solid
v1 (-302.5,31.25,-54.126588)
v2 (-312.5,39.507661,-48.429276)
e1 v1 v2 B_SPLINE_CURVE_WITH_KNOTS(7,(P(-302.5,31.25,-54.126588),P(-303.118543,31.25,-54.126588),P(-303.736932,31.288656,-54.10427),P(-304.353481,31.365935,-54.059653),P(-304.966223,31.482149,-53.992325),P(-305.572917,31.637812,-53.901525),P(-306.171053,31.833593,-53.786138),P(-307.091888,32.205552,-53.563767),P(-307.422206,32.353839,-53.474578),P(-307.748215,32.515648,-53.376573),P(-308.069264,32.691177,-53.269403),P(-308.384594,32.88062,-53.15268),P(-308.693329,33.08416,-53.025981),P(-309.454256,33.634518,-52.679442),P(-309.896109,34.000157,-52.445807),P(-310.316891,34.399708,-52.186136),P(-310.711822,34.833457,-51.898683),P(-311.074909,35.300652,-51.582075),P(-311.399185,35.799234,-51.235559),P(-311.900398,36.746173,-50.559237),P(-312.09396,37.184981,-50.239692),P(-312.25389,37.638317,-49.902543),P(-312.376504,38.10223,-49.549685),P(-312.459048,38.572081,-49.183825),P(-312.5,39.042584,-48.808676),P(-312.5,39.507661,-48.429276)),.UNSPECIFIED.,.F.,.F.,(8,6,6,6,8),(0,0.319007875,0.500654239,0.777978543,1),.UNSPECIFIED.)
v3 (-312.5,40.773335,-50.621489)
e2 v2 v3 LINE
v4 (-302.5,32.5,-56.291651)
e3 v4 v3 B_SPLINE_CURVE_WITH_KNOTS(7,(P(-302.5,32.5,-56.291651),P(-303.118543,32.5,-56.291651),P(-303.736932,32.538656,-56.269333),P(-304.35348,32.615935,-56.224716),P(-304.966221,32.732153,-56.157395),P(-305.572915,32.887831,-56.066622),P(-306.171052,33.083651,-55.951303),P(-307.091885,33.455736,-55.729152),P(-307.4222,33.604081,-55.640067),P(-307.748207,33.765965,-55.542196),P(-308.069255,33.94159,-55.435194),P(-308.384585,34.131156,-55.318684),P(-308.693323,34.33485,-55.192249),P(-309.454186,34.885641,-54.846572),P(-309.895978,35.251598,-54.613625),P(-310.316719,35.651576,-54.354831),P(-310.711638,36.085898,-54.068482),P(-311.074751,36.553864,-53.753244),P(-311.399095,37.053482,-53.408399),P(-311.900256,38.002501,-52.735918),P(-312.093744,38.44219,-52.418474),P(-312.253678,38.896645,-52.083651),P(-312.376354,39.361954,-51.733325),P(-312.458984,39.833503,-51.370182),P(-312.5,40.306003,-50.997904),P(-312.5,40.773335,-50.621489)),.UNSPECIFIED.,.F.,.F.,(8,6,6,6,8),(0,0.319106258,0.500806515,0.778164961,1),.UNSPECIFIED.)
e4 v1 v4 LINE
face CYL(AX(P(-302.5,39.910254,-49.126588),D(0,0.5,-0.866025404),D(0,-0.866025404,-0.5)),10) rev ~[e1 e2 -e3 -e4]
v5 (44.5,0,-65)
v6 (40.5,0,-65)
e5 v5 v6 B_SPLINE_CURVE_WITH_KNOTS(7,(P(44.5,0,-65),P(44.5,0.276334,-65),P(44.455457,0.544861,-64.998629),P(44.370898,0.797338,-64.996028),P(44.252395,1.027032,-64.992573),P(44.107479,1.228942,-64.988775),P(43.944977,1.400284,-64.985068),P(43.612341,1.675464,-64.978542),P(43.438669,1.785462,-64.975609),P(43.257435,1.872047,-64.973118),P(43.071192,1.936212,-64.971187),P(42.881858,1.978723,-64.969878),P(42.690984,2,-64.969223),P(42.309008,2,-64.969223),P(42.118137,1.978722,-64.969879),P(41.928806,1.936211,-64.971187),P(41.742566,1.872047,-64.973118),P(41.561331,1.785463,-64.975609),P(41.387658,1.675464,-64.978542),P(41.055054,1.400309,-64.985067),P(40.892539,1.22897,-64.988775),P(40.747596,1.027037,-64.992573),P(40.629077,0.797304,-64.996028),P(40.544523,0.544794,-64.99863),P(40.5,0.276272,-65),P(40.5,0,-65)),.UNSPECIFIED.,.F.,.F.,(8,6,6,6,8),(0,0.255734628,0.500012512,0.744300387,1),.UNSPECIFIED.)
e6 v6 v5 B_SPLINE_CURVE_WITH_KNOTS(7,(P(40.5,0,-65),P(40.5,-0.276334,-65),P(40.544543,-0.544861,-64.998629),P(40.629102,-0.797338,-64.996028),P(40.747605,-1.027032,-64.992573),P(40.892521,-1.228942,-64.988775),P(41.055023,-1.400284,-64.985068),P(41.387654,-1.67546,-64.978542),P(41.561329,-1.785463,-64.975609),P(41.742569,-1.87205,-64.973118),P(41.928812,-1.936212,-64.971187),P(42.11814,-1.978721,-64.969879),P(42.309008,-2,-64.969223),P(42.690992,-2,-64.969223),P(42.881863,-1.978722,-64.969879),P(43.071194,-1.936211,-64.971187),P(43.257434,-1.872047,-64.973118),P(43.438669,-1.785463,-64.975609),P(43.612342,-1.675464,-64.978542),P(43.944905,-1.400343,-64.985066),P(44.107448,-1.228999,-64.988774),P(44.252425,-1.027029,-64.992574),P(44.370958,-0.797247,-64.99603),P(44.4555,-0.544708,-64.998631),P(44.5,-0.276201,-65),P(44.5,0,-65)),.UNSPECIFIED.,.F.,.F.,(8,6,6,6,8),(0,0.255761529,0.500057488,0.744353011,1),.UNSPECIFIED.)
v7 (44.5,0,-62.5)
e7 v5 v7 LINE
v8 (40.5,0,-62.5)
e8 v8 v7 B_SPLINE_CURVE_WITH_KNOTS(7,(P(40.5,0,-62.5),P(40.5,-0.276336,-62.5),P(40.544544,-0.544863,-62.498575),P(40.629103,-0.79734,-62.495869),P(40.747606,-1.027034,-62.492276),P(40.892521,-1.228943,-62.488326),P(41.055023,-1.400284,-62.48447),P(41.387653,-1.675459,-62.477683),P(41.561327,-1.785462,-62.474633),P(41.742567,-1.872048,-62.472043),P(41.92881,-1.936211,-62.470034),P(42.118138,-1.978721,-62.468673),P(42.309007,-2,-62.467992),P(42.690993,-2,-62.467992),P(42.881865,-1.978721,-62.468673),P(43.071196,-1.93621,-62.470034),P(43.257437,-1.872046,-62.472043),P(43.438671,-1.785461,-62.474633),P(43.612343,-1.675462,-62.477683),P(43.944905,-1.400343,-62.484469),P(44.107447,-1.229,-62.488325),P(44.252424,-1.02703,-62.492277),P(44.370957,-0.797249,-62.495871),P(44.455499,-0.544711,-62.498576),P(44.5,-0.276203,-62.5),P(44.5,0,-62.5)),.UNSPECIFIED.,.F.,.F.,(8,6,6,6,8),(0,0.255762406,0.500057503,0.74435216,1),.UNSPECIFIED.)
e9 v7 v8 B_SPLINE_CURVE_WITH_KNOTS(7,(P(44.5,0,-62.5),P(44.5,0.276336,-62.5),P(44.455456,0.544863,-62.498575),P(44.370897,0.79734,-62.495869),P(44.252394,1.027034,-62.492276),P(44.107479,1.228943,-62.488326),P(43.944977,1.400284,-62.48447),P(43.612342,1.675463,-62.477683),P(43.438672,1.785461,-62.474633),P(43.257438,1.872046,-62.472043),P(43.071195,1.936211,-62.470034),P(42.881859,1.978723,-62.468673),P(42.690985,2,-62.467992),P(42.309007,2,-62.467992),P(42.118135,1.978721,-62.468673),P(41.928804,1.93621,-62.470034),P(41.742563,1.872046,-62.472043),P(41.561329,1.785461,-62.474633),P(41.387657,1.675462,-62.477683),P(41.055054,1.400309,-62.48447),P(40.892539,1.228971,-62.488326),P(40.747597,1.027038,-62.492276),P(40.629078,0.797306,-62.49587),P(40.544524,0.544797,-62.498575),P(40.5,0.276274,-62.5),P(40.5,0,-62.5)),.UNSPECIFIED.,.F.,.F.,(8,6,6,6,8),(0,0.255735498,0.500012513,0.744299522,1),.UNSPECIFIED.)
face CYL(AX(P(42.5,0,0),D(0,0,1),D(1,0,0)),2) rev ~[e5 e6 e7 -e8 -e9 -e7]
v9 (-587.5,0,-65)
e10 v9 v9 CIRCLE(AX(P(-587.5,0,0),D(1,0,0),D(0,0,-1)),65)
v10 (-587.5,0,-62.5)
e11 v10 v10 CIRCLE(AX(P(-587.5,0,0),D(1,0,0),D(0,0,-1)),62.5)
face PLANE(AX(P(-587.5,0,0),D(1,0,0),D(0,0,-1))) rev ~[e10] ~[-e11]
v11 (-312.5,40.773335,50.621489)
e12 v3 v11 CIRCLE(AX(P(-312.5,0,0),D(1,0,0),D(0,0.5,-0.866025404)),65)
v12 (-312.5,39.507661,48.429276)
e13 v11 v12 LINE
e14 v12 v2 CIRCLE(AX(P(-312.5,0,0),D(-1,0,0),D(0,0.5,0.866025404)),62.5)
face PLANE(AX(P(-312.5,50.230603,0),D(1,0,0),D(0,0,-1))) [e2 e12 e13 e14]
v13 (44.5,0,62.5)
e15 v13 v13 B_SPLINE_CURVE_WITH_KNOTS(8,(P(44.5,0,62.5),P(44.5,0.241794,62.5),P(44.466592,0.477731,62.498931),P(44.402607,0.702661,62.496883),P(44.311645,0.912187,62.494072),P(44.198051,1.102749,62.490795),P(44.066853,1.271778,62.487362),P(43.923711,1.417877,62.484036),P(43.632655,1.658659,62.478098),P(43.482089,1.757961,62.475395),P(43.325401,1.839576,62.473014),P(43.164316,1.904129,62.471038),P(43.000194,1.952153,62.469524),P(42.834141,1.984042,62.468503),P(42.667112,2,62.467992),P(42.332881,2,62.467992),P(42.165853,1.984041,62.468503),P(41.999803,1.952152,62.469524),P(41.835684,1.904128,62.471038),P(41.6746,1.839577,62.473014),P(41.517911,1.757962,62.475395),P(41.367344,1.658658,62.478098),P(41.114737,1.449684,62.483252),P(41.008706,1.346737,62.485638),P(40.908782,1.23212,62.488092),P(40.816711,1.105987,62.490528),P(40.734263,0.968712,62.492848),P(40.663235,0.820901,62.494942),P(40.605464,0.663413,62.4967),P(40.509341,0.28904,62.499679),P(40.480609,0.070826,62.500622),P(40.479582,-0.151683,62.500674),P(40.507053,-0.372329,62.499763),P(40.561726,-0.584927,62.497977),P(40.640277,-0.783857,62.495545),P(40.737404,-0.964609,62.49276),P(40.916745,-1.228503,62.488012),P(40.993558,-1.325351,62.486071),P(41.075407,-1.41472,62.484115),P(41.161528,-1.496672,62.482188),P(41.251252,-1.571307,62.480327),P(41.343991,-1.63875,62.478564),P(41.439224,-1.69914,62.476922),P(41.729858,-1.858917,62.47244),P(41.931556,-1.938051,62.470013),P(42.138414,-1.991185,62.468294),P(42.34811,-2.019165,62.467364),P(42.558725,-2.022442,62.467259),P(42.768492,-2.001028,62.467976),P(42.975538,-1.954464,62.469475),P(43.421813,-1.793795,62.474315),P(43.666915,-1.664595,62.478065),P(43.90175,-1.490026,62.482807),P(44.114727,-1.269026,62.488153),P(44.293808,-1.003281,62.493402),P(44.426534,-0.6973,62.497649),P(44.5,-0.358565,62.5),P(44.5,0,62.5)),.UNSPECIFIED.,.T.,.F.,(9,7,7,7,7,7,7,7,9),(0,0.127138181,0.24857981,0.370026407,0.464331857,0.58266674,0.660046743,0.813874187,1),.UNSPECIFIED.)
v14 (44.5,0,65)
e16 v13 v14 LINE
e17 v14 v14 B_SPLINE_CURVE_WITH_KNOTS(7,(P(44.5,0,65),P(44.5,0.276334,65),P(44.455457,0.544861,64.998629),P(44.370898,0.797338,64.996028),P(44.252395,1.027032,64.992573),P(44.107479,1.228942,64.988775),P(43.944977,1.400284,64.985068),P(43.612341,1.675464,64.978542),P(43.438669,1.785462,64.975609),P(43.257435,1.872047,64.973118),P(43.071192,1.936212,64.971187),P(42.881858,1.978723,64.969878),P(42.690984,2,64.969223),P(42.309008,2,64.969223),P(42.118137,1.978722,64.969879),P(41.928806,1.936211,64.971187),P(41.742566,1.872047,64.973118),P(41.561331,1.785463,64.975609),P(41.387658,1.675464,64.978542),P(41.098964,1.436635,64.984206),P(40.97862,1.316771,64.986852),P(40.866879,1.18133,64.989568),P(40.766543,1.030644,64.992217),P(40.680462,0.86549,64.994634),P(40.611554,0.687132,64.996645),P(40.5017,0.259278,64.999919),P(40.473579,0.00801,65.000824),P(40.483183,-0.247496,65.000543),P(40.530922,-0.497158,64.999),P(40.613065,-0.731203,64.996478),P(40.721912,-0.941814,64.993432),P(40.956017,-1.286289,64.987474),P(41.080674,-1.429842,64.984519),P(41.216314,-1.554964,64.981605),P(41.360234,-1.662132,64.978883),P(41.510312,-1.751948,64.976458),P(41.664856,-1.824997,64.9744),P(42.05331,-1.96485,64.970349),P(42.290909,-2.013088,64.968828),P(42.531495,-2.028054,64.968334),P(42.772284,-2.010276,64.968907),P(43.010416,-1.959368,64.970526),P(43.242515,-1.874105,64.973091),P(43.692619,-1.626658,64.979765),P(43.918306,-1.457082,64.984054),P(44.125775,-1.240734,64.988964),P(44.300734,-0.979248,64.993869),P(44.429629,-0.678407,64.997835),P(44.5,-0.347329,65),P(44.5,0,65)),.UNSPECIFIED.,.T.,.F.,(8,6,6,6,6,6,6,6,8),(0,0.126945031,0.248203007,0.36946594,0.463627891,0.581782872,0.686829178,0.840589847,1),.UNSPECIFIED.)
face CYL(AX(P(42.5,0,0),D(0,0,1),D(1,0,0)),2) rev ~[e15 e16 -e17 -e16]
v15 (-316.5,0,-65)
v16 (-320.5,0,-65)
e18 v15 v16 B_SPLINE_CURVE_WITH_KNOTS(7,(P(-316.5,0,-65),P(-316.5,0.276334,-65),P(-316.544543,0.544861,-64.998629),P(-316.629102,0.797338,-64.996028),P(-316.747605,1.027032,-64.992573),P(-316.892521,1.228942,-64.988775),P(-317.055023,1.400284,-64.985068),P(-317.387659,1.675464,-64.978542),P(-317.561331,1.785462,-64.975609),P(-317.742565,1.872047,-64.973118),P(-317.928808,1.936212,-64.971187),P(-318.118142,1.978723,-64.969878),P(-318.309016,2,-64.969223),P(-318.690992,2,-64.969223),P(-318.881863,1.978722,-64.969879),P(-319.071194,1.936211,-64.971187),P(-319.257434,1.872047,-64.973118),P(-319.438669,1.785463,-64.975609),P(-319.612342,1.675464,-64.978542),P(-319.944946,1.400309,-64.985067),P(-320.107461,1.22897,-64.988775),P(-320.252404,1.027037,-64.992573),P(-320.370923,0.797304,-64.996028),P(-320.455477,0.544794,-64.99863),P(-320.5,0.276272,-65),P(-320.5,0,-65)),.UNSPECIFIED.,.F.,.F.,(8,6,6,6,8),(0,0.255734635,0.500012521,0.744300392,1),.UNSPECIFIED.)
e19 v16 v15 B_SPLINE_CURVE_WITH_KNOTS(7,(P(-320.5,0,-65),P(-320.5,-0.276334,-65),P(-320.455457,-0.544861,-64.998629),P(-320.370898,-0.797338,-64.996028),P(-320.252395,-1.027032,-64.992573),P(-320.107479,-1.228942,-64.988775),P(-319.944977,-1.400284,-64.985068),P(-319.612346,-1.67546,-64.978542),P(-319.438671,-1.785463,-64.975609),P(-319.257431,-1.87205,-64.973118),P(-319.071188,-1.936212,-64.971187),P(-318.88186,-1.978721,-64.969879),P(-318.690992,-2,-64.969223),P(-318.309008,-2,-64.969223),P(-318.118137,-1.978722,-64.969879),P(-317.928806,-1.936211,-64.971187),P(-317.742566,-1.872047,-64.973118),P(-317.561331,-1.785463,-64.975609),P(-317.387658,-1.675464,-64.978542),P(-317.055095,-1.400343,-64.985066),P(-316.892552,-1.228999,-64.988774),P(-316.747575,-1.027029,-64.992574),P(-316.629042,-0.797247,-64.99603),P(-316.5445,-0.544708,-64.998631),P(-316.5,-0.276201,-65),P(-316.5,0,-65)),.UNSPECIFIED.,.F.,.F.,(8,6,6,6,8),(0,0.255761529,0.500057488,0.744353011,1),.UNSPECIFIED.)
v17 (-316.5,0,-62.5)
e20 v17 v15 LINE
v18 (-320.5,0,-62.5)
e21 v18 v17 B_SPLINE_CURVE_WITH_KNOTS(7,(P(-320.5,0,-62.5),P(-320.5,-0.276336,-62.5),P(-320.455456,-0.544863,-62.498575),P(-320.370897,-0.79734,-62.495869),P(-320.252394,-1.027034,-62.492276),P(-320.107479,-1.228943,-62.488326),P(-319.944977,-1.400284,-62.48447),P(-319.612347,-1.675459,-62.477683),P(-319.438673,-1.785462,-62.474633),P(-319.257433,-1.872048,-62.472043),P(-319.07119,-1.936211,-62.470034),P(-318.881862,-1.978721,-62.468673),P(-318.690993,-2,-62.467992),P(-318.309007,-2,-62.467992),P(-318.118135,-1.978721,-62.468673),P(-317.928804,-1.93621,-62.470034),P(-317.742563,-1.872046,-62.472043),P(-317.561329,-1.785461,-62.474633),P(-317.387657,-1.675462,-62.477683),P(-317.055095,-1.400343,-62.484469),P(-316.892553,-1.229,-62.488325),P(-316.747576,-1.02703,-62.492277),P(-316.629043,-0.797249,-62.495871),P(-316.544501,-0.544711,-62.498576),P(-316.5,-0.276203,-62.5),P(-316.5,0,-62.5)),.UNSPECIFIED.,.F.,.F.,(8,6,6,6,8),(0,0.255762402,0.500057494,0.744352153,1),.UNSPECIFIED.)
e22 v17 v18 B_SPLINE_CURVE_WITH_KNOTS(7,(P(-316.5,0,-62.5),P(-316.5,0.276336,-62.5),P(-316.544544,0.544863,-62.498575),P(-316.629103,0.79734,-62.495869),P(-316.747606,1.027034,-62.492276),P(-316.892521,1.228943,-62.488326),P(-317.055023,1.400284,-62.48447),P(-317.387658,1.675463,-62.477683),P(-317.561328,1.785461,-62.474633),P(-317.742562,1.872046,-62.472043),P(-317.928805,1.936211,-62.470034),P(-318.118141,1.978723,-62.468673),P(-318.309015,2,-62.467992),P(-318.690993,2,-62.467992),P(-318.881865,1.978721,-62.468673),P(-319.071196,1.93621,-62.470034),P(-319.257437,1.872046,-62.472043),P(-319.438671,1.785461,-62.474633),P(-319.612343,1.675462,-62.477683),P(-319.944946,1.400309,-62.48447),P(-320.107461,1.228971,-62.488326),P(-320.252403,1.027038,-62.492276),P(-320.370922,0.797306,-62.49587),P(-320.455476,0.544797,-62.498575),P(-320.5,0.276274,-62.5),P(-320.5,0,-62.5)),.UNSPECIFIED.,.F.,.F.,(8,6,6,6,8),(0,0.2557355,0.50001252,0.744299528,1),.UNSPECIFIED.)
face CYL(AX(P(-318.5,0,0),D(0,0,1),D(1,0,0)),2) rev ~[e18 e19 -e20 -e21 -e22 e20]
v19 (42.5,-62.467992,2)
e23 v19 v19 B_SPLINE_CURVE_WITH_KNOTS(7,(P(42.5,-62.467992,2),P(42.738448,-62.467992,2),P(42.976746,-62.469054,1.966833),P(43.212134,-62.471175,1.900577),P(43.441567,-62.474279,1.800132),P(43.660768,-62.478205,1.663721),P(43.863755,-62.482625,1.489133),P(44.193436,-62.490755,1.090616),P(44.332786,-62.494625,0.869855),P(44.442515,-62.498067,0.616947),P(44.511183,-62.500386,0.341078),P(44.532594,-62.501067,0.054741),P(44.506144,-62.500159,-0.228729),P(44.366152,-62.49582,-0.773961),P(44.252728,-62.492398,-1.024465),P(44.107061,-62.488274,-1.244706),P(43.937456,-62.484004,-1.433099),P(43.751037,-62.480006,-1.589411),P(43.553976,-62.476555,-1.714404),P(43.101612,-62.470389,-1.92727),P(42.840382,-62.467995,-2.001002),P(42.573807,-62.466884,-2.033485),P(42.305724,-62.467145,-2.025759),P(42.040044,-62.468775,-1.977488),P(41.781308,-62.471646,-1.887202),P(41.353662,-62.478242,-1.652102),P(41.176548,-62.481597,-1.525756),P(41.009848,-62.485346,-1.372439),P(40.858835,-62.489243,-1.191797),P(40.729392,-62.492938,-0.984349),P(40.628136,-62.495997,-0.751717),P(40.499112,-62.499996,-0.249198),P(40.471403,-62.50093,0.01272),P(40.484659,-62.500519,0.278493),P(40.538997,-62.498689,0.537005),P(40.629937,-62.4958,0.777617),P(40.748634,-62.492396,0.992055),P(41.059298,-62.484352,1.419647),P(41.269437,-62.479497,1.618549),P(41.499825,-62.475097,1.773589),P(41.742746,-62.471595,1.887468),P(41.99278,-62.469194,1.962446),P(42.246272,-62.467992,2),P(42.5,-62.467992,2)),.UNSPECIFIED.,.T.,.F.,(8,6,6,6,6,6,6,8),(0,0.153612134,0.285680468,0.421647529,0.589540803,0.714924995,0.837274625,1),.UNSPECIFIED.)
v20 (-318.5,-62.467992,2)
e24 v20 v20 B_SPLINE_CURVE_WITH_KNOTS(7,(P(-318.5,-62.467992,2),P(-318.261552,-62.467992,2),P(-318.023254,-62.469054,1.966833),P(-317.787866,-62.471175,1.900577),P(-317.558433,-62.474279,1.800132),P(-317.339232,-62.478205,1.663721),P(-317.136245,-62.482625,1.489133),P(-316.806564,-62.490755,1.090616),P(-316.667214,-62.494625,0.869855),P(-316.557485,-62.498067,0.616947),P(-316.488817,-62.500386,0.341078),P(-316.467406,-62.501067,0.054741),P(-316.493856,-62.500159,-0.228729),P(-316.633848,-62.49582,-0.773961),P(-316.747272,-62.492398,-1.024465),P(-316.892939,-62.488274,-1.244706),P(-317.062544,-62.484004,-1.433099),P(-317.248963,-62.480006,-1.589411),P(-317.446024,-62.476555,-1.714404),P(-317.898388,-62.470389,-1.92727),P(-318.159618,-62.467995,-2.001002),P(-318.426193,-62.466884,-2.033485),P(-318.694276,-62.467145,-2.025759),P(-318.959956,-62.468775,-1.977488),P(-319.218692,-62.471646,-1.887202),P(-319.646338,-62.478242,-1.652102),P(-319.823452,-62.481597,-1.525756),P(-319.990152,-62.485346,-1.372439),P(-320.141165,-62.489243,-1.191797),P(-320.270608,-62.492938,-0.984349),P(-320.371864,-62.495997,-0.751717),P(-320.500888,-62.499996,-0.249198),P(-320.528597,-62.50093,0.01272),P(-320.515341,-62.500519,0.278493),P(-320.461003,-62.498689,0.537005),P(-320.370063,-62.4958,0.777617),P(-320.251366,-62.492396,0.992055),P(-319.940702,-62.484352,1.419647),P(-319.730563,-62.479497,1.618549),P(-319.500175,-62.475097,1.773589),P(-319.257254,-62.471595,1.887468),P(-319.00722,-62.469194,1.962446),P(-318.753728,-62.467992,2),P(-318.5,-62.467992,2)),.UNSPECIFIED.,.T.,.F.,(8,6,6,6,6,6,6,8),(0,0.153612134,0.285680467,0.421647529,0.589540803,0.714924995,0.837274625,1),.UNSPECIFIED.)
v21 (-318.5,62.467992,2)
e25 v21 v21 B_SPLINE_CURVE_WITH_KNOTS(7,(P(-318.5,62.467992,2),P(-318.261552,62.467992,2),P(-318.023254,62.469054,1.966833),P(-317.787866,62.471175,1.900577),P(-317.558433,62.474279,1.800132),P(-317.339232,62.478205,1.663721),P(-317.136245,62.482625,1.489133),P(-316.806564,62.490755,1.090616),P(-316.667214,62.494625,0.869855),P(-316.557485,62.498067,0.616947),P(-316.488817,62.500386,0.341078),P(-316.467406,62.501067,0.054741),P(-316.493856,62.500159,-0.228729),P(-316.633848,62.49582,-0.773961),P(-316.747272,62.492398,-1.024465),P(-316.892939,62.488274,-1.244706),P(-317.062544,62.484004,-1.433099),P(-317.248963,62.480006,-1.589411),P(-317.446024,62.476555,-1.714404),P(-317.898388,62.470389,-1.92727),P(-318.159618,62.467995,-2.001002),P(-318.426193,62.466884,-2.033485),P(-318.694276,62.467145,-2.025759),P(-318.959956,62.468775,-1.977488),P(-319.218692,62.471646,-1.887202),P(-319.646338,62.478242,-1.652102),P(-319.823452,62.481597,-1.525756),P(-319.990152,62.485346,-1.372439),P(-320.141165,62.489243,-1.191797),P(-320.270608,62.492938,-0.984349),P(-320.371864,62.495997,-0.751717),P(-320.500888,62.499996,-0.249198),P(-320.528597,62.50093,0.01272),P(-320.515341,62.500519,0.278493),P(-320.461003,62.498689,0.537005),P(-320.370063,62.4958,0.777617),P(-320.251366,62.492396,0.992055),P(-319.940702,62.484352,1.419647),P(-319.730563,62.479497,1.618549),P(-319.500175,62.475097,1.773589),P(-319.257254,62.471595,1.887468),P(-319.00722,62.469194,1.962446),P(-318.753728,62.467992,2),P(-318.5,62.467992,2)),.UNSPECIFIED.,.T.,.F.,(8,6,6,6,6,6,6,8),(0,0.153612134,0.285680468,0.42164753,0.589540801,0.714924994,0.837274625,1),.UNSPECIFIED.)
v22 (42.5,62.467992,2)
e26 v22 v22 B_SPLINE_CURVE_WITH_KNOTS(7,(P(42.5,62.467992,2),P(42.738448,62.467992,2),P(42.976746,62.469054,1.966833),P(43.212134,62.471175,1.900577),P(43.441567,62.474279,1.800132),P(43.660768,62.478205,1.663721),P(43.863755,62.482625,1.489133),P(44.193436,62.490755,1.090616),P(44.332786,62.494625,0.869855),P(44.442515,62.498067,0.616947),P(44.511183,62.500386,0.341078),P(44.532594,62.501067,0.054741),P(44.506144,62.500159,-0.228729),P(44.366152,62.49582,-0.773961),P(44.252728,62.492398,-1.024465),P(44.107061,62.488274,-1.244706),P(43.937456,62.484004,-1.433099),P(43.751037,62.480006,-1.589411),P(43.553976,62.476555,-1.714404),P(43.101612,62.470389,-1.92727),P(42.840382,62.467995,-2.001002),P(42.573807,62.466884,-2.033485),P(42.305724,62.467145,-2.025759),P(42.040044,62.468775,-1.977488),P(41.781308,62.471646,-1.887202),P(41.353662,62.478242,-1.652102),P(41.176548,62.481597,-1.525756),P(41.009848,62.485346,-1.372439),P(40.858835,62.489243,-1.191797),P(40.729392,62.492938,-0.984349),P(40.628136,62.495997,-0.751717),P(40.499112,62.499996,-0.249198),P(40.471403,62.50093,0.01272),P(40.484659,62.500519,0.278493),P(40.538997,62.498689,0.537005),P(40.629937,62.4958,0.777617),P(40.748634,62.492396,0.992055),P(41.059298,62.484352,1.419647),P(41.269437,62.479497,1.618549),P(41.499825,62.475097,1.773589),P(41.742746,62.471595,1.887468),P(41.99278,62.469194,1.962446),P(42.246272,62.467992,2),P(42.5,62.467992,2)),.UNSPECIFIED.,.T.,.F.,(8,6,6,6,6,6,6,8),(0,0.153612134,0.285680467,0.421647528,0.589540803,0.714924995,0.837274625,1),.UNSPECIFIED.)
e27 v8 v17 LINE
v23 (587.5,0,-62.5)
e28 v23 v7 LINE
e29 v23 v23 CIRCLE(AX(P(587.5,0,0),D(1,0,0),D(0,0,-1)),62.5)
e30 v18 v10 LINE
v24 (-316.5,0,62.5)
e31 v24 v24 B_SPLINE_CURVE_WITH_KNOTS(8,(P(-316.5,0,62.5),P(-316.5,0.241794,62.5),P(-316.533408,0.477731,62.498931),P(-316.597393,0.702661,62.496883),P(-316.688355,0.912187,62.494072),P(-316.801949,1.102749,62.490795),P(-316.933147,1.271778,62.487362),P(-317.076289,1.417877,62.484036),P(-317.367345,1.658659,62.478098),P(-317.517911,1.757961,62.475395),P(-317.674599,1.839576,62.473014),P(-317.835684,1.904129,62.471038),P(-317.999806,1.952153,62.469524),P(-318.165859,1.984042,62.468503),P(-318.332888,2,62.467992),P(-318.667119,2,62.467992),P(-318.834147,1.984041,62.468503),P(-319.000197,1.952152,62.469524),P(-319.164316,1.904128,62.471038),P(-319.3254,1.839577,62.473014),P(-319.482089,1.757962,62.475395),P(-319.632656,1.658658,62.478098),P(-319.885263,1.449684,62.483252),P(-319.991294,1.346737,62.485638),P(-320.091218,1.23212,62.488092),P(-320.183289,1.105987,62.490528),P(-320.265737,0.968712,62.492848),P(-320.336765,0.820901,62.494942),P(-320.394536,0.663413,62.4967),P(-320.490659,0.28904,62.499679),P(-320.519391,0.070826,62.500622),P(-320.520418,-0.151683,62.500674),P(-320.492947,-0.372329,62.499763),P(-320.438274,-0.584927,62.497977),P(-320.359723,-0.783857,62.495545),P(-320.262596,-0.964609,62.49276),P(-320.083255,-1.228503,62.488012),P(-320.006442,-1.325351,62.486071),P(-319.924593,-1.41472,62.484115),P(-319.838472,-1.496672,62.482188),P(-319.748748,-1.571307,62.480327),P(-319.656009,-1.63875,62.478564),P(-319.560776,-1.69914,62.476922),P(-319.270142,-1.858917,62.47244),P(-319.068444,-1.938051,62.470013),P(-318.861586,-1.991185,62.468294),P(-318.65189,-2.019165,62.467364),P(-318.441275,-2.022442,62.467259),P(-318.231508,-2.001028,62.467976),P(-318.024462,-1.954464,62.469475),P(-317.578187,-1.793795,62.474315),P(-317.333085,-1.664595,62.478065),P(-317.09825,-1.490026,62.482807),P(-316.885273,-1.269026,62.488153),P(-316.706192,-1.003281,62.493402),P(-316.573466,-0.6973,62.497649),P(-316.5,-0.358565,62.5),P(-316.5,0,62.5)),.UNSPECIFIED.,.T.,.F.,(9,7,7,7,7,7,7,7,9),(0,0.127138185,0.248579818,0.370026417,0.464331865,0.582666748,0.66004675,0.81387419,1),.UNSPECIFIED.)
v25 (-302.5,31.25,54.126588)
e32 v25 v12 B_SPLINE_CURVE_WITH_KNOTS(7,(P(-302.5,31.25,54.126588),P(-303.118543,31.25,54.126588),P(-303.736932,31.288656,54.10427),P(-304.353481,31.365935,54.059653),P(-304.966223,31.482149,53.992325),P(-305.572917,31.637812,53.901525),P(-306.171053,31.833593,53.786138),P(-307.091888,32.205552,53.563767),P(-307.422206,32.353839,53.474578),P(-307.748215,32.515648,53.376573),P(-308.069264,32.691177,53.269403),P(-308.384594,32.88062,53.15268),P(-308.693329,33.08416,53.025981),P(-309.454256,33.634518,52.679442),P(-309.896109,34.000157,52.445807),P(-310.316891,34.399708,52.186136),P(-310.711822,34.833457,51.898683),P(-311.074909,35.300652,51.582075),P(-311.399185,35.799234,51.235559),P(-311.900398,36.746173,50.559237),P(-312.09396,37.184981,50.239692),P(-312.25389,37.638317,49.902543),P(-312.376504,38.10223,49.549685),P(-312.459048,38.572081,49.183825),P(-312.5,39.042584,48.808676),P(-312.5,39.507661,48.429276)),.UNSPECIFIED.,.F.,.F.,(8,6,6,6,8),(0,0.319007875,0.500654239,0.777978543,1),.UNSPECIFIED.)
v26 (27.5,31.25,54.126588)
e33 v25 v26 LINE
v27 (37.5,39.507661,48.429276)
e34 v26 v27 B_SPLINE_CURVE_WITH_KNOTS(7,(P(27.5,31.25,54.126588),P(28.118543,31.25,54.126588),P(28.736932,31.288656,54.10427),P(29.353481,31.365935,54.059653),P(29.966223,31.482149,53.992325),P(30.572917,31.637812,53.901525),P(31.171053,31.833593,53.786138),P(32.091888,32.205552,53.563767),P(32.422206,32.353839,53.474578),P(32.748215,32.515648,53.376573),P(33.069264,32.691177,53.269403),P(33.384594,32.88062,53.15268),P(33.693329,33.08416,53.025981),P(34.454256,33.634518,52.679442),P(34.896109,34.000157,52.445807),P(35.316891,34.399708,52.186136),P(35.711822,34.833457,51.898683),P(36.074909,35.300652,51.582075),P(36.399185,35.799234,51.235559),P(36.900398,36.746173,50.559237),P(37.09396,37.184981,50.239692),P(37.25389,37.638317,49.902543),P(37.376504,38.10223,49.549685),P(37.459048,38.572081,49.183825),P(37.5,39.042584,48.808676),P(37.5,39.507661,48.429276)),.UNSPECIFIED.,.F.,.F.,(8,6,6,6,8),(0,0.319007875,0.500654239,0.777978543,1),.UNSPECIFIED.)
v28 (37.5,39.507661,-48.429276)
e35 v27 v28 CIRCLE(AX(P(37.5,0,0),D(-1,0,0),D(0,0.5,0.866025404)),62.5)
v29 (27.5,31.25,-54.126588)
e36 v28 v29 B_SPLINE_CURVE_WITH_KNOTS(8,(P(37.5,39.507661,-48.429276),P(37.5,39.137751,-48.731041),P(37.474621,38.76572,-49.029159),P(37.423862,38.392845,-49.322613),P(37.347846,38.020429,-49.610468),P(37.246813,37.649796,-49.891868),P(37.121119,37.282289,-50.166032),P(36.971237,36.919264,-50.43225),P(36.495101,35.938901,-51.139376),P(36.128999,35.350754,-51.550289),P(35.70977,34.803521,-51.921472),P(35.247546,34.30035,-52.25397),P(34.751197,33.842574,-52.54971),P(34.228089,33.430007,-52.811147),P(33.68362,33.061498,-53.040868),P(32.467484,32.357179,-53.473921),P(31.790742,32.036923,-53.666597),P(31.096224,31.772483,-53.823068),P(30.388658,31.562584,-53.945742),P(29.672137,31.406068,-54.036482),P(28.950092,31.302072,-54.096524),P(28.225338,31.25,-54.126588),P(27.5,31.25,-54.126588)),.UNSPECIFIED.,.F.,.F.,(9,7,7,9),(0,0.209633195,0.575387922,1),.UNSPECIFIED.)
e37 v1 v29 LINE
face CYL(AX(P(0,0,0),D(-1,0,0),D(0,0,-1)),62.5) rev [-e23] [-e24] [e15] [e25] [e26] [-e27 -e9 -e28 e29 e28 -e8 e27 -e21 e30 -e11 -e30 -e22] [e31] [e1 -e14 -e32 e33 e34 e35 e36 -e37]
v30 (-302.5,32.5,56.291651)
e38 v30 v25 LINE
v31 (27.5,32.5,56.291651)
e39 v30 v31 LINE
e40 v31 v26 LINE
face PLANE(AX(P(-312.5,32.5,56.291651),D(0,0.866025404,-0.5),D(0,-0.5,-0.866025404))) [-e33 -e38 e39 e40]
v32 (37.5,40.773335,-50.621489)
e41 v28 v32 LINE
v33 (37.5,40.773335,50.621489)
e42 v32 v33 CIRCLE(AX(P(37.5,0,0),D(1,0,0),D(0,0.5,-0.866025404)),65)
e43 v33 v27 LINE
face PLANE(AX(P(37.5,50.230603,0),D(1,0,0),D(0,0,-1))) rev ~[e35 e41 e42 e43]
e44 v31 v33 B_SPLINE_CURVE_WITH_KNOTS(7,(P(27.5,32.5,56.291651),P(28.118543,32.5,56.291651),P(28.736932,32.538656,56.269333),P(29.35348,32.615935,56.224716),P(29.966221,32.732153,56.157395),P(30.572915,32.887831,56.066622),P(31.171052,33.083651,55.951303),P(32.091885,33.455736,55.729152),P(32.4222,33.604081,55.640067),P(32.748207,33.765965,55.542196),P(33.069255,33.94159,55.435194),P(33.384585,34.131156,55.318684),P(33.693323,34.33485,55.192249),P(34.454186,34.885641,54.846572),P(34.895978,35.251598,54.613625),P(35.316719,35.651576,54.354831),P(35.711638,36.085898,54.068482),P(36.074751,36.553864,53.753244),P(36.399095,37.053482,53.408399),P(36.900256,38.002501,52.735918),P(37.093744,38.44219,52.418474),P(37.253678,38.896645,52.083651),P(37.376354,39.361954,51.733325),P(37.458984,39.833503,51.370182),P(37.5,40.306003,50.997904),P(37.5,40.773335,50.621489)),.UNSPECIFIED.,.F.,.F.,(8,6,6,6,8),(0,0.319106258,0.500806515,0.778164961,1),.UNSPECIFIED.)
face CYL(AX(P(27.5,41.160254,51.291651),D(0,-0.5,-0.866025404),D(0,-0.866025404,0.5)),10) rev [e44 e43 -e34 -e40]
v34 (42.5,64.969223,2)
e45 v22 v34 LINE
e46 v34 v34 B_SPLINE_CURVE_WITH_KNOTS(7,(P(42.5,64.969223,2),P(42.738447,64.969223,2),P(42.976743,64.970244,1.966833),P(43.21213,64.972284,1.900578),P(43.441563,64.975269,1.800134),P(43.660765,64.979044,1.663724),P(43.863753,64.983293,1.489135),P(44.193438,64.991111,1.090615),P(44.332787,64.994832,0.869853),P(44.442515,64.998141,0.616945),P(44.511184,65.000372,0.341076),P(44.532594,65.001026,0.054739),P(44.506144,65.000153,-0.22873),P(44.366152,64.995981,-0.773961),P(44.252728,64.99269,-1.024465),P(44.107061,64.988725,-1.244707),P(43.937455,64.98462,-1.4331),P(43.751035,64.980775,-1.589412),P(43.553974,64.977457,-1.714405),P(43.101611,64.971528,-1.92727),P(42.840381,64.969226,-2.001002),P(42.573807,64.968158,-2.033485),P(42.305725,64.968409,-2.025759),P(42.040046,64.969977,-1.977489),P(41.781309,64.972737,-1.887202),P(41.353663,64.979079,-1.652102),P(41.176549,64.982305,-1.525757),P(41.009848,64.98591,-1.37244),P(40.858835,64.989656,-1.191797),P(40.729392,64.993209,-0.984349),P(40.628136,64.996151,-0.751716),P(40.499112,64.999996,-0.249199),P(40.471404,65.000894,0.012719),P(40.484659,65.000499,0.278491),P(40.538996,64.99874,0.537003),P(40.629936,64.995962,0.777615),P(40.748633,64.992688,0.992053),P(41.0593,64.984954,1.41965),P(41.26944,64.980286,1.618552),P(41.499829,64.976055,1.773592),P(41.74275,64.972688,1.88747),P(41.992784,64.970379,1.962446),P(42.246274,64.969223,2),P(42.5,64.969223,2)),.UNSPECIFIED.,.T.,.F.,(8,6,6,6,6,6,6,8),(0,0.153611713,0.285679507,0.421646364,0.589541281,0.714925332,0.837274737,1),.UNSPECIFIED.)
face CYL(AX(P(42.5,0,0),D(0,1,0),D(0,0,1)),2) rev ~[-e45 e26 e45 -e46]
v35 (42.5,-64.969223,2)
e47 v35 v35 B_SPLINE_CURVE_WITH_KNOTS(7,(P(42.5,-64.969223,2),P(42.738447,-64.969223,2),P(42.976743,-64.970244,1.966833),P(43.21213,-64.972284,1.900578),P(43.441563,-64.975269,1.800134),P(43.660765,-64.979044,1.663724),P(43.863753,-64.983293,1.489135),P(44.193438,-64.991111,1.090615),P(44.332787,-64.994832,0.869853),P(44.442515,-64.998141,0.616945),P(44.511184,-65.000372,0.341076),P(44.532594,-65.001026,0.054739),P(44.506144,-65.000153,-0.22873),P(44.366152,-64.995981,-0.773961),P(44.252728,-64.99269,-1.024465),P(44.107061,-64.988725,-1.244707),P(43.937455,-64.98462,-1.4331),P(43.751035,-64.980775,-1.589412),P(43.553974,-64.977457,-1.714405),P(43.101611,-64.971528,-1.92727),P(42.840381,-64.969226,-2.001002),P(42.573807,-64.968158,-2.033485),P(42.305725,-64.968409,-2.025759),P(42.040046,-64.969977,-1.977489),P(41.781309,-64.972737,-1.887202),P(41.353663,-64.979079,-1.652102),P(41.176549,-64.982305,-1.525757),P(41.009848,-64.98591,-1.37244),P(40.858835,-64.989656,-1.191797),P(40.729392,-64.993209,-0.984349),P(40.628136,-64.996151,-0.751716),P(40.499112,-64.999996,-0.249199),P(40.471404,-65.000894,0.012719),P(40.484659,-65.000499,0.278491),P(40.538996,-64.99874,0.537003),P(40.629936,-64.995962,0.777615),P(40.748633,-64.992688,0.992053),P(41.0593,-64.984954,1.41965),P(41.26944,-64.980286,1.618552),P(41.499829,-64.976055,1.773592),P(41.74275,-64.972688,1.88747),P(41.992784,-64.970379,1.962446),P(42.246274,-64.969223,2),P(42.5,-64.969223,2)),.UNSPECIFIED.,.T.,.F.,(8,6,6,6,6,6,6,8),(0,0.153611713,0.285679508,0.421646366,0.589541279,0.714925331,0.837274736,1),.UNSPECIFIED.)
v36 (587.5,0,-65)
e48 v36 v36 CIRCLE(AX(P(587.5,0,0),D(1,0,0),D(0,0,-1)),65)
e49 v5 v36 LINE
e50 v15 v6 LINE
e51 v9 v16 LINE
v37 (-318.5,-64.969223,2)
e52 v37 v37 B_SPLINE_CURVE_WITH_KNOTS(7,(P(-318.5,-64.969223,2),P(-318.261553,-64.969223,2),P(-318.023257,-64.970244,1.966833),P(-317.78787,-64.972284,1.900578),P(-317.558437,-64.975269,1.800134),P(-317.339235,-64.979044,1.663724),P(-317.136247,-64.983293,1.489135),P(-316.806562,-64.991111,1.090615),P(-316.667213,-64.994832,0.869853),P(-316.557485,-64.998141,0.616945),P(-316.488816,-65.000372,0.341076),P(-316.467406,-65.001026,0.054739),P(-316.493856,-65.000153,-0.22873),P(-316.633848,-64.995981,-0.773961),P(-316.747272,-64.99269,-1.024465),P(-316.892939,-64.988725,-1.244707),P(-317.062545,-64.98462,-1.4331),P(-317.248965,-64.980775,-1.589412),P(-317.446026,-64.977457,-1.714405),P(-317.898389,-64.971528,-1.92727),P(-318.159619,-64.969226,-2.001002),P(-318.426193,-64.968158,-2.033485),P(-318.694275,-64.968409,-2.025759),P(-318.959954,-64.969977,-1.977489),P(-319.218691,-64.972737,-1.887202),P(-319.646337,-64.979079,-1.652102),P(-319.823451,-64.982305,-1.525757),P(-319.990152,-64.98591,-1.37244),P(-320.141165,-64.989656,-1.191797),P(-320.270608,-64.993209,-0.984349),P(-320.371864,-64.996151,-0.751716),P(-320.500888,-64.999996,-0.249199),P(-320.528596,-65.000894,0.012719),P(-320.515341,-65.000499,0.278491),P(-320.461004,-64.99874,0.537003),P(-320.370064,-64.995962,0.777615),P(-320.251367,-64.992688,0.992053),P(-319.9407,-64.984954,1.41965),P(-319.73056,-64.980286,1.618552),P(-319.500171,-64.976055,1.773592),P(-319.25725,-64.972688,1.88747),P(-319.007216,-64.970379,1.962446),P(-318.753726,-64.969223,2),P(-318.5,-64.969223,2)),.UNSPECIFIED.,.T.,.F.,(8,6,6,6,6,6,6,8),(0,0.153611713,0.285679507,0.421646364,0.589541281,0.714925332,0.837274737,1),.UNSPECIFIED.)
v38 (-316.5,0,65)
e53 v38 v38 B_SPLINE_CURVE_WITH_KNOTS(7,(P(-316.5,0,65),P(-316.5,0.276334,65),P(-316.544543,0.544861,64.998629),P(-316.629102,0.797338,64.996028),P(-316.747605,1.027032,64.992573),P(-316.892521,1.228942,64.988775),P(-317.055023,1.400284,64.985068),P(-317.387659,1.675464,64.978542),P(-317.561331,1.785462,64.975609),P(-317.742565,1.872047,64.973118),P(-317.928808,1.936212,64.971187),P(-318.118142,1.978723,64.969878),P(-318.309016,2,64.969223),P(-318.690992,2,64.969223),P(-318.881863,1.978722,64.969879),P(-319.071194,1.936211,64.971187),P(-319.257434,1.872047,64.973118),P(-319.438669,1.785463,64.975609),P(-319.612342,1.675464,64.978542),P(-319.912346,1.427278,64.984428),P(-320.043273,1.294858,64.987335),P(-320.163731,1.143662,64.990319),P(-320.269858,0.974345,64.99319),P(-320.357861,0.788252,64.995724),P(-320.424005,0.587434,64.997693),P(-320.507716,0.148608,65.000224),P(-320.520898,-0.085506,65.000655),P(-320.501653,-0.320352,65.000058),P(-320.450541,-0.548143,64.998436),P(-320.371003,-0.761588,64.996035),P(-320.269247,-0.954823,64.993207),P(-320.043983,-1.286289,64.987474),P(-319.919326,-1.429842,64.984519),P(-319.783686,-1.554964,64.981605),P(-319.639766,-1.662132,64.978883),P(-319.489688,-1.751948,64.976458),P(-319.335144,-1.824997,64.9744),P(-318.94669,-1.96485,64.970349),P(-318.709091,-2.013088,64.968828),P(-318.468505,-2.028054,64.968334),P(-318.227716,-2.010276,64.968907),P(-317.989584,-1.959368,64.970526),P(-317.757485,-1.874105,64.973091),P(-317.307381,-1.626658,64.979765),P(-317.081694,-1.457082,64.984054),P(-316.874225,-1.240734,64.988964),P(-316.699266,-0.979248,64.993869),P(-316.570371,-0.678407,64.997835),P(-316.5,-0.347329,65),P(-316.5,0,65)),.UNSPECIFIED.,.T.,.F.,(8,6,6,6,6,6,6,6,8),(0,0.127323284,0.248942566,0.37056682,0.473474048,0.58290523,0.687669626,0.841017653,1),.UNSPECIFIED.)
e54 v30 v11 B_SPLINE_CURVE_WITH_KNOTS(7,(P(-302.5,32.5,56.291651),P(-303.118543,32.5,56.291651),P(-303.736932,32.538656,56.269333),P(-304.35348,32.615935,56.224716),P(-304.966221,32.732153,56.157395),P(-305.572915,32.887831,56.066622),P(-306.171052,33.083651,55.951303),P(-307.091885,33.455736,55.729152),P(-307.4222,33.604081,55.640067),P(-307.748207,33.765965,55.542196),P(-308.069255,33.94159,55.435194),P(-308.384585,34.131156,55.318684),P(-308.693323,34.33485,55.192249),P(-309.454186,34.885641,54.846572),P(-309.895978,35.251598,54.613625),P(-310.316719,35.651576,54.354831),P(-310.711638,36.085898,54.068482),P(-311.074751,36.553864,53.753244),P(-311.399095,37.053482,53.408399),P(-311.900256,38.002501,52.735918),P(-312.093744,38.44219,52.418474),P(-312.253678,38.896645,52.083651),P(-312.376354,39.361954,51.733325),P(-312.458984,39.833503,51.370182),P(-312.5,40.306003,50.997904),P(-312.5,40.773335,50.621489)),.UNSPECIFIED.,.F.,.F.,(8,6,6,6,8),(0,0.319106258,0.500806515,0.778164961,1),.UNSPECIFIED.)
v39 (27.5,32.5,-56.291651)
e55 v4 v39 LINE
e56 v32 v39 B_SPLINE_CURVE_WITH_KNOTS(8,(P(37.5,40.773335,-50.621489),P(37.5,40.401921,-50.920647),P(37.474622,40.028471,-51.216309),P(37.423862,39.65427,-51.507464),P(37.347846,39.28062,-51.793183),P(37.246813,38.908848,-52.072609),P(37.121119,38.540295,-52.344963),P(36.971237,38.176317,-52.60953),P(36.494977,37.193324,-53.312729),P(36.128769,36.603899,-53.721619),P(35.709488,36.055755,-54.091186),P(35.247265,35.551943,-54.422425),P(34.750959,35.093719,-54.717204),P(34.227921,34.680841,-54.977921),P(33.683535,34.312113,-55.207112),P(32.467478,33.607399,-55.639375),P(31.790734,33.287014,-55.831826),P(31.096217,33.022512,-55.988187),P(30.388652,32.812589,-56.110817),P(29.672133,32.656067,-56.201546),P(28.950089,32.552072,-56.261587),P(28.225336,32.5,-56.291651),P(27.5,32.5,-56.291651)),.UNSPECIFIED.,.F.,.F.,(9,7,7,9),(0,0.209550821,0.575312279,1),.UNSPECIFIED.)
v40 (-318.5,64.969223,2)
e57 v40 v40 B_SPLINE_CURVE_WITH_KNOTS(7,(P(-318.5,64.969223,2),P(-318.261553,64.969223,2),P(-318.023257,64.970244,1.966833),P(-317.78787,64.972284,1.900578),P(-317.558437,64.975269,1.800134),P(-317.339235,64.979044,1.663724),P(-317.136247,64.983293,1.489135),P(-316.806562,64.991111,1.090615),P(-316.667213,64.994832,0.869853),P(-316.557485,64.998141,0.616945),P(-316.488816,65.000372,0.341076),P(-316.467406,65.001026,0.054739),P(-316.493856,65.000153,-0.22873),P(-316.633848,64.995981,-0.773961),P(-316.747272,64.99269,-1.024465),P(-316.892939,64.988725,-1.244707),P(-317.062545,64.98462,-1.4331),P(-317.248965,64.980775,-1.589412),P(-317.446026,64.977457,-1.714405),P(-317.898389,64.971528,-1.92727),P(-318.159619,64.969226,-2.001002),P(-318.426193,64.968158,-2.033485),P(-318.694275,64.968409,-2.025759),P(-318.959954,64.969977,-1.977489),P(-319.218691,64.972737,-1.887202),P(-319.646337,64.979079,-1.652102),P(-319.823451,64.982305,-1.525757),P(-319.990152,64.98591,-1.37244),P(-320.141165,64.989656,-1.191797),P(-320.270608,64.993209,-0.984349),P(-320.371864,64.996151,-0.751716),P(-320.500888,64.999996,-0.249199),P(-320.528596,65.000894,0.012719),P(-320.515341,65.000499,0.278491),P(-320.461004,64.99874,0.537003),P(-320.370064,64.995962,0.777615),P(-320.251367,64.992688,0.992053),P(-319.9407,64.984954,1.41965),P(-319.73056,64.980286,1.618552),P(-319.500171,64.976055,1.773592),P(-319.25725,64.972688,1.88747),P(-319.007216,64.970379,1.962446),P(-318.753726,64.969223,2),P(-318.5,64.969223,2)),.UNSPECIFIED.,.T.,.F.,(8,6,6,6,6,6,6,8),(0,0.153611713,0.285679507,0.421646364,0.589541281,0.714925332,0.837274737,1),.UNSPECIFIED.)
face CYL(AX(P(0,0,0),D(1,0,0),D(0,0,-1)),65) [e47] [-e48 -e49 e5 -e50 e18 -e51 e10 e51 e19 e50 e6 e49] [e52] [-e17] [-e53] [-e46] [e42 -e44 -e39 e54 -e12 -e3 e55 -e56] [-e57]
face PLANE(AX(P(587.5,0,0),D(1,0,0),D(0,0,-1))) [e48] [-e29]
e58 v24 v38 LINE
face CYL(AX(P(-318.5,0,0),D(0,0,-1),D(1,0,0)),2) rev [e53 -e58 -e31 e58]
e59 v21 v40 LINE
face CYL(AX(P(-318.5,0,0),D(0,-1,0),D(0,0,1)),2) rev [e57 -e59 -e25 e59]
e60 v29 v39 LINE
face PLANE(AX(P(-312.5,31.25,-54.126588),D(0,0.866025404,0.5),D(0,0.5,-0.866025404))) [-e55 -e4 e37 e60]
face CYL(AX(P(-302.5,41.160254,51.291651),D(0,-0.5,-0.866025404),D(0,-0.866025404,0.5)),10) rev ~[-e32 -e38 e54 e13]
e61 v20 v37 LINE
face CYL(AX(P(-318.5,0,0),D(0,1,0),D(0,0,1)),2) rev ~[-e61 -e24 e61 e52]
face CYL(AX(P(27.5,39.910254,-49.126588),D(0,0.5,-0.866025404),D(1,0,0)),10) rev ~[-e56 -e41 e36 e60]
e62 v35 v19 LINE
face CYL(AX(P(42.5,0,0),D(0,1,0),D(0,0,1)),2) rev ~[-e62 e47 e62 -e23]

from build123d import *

# Parameters (mm, degrees)
SKETCH1_R               = 65
SKETCH1_R_2             = 62.5
BOSS_EXTRUDE1_DEPTH     = 587.5
CUT_EXTRUDE1_DEPTH      = 37.5
CUT_EXTRUDE1_DEPTH_BACK = 312.5
FILLET1_R               = 10
SKETCH5_R               = 2
CUT_EXTRUDE2_DEPTH      = 100
SKETCH6_R               = 2
CUT_EXTRUDE3_DEPTH      = 135.5


with BuildPart() as part:
    # Sketch1 → Boss-Extrude1 (new, symmetric)
    with BuildSketch(Plane(origin=(0, 0, 0), x_dir=(0, 0, -1), z_dir=(1, 0, 0))):
        Circle(SKETCH1_R)
        Circle(SKETCH1_R_2, mode=Mode.SUBTRACT)
    extrude(amount=BOSS_EXTRUDE1_DEPTH, both=True)

    # Sketch3 → Cut-Extrude1 (cut, two sides: drawn at the far end of the back side and taken through both)
    with BuildSketch(Plane(origin=(0, 0, 0), x_dir=(0, 0, -1), z_dir=(1, 0, 0)).offset(-CUT_EXTRUDE1_DEPTH_BACK)):
        with BuildLine():
            Line((-56.291651246, 32.5), (-54.126587737, 31.25))
            ThreePointArc((-54.126587737, 31.25), (0, 62.5), (54.126587737, 31.25))
            Line((54.126587737, 31.25), (56.291651246, 32.5))
            ThreePointArc((56.291651246, 32.5), (0, 65), (-56.291651246, 32.5))
        make_face()
    extrude(amount=CUT_EXTRUDE1_DEPTH + CUT_EXTRUDE1_DEPTH_BACK, mode=Mode.SUBTRACT)

    # Fillet1
    fillet1_edges = [part.edges().sort_by_distance(p)[0] for p in [
        (-312.5, 31.875, 55.209119491),
        (-312.5, 31.875, -55.209119491),
        (37.5, 31.875, 55.209119491),
        (37.5, 31.875, -55.209119491),
    ]]
    fillet(fillet1_edges, radius=FILLET1_R)

    # Sketch5 → Cut-Extrude2 (cut, symmetric)
    with BuildSketch(Plane(origin=(0, 0, 0), x_dir=(1, 0, 0), z_dir=(0, 1, 0))):
        with Locations(Location((-318.5, 0, 0), (0, 0, 270))):
            Circle(SKETCH5_R)
        with Locations(Location((42.5, 0, 0), (0, 0, 270))):
            Circle(SKETCH5_R)
    extrude(amount=CUT_EXTRUDE2_DEPTH, both=True, mode=Mode.SUBTRACT)

    # Sketch6 → Cut-Extrude3 (cut, symmetric)
    with BuildSketch(Plane.XY):
        with Locations((-318.5, 0)):
            Circle(SKETCH6_R)
        with Locations((42.5, 0)):
            Circle(SKETCH6_R)
    extrude(amount=CUT_EXTRUDE3_DEPTH, both=True, mode=Mode.SUBTRACT)


solid = part.part
